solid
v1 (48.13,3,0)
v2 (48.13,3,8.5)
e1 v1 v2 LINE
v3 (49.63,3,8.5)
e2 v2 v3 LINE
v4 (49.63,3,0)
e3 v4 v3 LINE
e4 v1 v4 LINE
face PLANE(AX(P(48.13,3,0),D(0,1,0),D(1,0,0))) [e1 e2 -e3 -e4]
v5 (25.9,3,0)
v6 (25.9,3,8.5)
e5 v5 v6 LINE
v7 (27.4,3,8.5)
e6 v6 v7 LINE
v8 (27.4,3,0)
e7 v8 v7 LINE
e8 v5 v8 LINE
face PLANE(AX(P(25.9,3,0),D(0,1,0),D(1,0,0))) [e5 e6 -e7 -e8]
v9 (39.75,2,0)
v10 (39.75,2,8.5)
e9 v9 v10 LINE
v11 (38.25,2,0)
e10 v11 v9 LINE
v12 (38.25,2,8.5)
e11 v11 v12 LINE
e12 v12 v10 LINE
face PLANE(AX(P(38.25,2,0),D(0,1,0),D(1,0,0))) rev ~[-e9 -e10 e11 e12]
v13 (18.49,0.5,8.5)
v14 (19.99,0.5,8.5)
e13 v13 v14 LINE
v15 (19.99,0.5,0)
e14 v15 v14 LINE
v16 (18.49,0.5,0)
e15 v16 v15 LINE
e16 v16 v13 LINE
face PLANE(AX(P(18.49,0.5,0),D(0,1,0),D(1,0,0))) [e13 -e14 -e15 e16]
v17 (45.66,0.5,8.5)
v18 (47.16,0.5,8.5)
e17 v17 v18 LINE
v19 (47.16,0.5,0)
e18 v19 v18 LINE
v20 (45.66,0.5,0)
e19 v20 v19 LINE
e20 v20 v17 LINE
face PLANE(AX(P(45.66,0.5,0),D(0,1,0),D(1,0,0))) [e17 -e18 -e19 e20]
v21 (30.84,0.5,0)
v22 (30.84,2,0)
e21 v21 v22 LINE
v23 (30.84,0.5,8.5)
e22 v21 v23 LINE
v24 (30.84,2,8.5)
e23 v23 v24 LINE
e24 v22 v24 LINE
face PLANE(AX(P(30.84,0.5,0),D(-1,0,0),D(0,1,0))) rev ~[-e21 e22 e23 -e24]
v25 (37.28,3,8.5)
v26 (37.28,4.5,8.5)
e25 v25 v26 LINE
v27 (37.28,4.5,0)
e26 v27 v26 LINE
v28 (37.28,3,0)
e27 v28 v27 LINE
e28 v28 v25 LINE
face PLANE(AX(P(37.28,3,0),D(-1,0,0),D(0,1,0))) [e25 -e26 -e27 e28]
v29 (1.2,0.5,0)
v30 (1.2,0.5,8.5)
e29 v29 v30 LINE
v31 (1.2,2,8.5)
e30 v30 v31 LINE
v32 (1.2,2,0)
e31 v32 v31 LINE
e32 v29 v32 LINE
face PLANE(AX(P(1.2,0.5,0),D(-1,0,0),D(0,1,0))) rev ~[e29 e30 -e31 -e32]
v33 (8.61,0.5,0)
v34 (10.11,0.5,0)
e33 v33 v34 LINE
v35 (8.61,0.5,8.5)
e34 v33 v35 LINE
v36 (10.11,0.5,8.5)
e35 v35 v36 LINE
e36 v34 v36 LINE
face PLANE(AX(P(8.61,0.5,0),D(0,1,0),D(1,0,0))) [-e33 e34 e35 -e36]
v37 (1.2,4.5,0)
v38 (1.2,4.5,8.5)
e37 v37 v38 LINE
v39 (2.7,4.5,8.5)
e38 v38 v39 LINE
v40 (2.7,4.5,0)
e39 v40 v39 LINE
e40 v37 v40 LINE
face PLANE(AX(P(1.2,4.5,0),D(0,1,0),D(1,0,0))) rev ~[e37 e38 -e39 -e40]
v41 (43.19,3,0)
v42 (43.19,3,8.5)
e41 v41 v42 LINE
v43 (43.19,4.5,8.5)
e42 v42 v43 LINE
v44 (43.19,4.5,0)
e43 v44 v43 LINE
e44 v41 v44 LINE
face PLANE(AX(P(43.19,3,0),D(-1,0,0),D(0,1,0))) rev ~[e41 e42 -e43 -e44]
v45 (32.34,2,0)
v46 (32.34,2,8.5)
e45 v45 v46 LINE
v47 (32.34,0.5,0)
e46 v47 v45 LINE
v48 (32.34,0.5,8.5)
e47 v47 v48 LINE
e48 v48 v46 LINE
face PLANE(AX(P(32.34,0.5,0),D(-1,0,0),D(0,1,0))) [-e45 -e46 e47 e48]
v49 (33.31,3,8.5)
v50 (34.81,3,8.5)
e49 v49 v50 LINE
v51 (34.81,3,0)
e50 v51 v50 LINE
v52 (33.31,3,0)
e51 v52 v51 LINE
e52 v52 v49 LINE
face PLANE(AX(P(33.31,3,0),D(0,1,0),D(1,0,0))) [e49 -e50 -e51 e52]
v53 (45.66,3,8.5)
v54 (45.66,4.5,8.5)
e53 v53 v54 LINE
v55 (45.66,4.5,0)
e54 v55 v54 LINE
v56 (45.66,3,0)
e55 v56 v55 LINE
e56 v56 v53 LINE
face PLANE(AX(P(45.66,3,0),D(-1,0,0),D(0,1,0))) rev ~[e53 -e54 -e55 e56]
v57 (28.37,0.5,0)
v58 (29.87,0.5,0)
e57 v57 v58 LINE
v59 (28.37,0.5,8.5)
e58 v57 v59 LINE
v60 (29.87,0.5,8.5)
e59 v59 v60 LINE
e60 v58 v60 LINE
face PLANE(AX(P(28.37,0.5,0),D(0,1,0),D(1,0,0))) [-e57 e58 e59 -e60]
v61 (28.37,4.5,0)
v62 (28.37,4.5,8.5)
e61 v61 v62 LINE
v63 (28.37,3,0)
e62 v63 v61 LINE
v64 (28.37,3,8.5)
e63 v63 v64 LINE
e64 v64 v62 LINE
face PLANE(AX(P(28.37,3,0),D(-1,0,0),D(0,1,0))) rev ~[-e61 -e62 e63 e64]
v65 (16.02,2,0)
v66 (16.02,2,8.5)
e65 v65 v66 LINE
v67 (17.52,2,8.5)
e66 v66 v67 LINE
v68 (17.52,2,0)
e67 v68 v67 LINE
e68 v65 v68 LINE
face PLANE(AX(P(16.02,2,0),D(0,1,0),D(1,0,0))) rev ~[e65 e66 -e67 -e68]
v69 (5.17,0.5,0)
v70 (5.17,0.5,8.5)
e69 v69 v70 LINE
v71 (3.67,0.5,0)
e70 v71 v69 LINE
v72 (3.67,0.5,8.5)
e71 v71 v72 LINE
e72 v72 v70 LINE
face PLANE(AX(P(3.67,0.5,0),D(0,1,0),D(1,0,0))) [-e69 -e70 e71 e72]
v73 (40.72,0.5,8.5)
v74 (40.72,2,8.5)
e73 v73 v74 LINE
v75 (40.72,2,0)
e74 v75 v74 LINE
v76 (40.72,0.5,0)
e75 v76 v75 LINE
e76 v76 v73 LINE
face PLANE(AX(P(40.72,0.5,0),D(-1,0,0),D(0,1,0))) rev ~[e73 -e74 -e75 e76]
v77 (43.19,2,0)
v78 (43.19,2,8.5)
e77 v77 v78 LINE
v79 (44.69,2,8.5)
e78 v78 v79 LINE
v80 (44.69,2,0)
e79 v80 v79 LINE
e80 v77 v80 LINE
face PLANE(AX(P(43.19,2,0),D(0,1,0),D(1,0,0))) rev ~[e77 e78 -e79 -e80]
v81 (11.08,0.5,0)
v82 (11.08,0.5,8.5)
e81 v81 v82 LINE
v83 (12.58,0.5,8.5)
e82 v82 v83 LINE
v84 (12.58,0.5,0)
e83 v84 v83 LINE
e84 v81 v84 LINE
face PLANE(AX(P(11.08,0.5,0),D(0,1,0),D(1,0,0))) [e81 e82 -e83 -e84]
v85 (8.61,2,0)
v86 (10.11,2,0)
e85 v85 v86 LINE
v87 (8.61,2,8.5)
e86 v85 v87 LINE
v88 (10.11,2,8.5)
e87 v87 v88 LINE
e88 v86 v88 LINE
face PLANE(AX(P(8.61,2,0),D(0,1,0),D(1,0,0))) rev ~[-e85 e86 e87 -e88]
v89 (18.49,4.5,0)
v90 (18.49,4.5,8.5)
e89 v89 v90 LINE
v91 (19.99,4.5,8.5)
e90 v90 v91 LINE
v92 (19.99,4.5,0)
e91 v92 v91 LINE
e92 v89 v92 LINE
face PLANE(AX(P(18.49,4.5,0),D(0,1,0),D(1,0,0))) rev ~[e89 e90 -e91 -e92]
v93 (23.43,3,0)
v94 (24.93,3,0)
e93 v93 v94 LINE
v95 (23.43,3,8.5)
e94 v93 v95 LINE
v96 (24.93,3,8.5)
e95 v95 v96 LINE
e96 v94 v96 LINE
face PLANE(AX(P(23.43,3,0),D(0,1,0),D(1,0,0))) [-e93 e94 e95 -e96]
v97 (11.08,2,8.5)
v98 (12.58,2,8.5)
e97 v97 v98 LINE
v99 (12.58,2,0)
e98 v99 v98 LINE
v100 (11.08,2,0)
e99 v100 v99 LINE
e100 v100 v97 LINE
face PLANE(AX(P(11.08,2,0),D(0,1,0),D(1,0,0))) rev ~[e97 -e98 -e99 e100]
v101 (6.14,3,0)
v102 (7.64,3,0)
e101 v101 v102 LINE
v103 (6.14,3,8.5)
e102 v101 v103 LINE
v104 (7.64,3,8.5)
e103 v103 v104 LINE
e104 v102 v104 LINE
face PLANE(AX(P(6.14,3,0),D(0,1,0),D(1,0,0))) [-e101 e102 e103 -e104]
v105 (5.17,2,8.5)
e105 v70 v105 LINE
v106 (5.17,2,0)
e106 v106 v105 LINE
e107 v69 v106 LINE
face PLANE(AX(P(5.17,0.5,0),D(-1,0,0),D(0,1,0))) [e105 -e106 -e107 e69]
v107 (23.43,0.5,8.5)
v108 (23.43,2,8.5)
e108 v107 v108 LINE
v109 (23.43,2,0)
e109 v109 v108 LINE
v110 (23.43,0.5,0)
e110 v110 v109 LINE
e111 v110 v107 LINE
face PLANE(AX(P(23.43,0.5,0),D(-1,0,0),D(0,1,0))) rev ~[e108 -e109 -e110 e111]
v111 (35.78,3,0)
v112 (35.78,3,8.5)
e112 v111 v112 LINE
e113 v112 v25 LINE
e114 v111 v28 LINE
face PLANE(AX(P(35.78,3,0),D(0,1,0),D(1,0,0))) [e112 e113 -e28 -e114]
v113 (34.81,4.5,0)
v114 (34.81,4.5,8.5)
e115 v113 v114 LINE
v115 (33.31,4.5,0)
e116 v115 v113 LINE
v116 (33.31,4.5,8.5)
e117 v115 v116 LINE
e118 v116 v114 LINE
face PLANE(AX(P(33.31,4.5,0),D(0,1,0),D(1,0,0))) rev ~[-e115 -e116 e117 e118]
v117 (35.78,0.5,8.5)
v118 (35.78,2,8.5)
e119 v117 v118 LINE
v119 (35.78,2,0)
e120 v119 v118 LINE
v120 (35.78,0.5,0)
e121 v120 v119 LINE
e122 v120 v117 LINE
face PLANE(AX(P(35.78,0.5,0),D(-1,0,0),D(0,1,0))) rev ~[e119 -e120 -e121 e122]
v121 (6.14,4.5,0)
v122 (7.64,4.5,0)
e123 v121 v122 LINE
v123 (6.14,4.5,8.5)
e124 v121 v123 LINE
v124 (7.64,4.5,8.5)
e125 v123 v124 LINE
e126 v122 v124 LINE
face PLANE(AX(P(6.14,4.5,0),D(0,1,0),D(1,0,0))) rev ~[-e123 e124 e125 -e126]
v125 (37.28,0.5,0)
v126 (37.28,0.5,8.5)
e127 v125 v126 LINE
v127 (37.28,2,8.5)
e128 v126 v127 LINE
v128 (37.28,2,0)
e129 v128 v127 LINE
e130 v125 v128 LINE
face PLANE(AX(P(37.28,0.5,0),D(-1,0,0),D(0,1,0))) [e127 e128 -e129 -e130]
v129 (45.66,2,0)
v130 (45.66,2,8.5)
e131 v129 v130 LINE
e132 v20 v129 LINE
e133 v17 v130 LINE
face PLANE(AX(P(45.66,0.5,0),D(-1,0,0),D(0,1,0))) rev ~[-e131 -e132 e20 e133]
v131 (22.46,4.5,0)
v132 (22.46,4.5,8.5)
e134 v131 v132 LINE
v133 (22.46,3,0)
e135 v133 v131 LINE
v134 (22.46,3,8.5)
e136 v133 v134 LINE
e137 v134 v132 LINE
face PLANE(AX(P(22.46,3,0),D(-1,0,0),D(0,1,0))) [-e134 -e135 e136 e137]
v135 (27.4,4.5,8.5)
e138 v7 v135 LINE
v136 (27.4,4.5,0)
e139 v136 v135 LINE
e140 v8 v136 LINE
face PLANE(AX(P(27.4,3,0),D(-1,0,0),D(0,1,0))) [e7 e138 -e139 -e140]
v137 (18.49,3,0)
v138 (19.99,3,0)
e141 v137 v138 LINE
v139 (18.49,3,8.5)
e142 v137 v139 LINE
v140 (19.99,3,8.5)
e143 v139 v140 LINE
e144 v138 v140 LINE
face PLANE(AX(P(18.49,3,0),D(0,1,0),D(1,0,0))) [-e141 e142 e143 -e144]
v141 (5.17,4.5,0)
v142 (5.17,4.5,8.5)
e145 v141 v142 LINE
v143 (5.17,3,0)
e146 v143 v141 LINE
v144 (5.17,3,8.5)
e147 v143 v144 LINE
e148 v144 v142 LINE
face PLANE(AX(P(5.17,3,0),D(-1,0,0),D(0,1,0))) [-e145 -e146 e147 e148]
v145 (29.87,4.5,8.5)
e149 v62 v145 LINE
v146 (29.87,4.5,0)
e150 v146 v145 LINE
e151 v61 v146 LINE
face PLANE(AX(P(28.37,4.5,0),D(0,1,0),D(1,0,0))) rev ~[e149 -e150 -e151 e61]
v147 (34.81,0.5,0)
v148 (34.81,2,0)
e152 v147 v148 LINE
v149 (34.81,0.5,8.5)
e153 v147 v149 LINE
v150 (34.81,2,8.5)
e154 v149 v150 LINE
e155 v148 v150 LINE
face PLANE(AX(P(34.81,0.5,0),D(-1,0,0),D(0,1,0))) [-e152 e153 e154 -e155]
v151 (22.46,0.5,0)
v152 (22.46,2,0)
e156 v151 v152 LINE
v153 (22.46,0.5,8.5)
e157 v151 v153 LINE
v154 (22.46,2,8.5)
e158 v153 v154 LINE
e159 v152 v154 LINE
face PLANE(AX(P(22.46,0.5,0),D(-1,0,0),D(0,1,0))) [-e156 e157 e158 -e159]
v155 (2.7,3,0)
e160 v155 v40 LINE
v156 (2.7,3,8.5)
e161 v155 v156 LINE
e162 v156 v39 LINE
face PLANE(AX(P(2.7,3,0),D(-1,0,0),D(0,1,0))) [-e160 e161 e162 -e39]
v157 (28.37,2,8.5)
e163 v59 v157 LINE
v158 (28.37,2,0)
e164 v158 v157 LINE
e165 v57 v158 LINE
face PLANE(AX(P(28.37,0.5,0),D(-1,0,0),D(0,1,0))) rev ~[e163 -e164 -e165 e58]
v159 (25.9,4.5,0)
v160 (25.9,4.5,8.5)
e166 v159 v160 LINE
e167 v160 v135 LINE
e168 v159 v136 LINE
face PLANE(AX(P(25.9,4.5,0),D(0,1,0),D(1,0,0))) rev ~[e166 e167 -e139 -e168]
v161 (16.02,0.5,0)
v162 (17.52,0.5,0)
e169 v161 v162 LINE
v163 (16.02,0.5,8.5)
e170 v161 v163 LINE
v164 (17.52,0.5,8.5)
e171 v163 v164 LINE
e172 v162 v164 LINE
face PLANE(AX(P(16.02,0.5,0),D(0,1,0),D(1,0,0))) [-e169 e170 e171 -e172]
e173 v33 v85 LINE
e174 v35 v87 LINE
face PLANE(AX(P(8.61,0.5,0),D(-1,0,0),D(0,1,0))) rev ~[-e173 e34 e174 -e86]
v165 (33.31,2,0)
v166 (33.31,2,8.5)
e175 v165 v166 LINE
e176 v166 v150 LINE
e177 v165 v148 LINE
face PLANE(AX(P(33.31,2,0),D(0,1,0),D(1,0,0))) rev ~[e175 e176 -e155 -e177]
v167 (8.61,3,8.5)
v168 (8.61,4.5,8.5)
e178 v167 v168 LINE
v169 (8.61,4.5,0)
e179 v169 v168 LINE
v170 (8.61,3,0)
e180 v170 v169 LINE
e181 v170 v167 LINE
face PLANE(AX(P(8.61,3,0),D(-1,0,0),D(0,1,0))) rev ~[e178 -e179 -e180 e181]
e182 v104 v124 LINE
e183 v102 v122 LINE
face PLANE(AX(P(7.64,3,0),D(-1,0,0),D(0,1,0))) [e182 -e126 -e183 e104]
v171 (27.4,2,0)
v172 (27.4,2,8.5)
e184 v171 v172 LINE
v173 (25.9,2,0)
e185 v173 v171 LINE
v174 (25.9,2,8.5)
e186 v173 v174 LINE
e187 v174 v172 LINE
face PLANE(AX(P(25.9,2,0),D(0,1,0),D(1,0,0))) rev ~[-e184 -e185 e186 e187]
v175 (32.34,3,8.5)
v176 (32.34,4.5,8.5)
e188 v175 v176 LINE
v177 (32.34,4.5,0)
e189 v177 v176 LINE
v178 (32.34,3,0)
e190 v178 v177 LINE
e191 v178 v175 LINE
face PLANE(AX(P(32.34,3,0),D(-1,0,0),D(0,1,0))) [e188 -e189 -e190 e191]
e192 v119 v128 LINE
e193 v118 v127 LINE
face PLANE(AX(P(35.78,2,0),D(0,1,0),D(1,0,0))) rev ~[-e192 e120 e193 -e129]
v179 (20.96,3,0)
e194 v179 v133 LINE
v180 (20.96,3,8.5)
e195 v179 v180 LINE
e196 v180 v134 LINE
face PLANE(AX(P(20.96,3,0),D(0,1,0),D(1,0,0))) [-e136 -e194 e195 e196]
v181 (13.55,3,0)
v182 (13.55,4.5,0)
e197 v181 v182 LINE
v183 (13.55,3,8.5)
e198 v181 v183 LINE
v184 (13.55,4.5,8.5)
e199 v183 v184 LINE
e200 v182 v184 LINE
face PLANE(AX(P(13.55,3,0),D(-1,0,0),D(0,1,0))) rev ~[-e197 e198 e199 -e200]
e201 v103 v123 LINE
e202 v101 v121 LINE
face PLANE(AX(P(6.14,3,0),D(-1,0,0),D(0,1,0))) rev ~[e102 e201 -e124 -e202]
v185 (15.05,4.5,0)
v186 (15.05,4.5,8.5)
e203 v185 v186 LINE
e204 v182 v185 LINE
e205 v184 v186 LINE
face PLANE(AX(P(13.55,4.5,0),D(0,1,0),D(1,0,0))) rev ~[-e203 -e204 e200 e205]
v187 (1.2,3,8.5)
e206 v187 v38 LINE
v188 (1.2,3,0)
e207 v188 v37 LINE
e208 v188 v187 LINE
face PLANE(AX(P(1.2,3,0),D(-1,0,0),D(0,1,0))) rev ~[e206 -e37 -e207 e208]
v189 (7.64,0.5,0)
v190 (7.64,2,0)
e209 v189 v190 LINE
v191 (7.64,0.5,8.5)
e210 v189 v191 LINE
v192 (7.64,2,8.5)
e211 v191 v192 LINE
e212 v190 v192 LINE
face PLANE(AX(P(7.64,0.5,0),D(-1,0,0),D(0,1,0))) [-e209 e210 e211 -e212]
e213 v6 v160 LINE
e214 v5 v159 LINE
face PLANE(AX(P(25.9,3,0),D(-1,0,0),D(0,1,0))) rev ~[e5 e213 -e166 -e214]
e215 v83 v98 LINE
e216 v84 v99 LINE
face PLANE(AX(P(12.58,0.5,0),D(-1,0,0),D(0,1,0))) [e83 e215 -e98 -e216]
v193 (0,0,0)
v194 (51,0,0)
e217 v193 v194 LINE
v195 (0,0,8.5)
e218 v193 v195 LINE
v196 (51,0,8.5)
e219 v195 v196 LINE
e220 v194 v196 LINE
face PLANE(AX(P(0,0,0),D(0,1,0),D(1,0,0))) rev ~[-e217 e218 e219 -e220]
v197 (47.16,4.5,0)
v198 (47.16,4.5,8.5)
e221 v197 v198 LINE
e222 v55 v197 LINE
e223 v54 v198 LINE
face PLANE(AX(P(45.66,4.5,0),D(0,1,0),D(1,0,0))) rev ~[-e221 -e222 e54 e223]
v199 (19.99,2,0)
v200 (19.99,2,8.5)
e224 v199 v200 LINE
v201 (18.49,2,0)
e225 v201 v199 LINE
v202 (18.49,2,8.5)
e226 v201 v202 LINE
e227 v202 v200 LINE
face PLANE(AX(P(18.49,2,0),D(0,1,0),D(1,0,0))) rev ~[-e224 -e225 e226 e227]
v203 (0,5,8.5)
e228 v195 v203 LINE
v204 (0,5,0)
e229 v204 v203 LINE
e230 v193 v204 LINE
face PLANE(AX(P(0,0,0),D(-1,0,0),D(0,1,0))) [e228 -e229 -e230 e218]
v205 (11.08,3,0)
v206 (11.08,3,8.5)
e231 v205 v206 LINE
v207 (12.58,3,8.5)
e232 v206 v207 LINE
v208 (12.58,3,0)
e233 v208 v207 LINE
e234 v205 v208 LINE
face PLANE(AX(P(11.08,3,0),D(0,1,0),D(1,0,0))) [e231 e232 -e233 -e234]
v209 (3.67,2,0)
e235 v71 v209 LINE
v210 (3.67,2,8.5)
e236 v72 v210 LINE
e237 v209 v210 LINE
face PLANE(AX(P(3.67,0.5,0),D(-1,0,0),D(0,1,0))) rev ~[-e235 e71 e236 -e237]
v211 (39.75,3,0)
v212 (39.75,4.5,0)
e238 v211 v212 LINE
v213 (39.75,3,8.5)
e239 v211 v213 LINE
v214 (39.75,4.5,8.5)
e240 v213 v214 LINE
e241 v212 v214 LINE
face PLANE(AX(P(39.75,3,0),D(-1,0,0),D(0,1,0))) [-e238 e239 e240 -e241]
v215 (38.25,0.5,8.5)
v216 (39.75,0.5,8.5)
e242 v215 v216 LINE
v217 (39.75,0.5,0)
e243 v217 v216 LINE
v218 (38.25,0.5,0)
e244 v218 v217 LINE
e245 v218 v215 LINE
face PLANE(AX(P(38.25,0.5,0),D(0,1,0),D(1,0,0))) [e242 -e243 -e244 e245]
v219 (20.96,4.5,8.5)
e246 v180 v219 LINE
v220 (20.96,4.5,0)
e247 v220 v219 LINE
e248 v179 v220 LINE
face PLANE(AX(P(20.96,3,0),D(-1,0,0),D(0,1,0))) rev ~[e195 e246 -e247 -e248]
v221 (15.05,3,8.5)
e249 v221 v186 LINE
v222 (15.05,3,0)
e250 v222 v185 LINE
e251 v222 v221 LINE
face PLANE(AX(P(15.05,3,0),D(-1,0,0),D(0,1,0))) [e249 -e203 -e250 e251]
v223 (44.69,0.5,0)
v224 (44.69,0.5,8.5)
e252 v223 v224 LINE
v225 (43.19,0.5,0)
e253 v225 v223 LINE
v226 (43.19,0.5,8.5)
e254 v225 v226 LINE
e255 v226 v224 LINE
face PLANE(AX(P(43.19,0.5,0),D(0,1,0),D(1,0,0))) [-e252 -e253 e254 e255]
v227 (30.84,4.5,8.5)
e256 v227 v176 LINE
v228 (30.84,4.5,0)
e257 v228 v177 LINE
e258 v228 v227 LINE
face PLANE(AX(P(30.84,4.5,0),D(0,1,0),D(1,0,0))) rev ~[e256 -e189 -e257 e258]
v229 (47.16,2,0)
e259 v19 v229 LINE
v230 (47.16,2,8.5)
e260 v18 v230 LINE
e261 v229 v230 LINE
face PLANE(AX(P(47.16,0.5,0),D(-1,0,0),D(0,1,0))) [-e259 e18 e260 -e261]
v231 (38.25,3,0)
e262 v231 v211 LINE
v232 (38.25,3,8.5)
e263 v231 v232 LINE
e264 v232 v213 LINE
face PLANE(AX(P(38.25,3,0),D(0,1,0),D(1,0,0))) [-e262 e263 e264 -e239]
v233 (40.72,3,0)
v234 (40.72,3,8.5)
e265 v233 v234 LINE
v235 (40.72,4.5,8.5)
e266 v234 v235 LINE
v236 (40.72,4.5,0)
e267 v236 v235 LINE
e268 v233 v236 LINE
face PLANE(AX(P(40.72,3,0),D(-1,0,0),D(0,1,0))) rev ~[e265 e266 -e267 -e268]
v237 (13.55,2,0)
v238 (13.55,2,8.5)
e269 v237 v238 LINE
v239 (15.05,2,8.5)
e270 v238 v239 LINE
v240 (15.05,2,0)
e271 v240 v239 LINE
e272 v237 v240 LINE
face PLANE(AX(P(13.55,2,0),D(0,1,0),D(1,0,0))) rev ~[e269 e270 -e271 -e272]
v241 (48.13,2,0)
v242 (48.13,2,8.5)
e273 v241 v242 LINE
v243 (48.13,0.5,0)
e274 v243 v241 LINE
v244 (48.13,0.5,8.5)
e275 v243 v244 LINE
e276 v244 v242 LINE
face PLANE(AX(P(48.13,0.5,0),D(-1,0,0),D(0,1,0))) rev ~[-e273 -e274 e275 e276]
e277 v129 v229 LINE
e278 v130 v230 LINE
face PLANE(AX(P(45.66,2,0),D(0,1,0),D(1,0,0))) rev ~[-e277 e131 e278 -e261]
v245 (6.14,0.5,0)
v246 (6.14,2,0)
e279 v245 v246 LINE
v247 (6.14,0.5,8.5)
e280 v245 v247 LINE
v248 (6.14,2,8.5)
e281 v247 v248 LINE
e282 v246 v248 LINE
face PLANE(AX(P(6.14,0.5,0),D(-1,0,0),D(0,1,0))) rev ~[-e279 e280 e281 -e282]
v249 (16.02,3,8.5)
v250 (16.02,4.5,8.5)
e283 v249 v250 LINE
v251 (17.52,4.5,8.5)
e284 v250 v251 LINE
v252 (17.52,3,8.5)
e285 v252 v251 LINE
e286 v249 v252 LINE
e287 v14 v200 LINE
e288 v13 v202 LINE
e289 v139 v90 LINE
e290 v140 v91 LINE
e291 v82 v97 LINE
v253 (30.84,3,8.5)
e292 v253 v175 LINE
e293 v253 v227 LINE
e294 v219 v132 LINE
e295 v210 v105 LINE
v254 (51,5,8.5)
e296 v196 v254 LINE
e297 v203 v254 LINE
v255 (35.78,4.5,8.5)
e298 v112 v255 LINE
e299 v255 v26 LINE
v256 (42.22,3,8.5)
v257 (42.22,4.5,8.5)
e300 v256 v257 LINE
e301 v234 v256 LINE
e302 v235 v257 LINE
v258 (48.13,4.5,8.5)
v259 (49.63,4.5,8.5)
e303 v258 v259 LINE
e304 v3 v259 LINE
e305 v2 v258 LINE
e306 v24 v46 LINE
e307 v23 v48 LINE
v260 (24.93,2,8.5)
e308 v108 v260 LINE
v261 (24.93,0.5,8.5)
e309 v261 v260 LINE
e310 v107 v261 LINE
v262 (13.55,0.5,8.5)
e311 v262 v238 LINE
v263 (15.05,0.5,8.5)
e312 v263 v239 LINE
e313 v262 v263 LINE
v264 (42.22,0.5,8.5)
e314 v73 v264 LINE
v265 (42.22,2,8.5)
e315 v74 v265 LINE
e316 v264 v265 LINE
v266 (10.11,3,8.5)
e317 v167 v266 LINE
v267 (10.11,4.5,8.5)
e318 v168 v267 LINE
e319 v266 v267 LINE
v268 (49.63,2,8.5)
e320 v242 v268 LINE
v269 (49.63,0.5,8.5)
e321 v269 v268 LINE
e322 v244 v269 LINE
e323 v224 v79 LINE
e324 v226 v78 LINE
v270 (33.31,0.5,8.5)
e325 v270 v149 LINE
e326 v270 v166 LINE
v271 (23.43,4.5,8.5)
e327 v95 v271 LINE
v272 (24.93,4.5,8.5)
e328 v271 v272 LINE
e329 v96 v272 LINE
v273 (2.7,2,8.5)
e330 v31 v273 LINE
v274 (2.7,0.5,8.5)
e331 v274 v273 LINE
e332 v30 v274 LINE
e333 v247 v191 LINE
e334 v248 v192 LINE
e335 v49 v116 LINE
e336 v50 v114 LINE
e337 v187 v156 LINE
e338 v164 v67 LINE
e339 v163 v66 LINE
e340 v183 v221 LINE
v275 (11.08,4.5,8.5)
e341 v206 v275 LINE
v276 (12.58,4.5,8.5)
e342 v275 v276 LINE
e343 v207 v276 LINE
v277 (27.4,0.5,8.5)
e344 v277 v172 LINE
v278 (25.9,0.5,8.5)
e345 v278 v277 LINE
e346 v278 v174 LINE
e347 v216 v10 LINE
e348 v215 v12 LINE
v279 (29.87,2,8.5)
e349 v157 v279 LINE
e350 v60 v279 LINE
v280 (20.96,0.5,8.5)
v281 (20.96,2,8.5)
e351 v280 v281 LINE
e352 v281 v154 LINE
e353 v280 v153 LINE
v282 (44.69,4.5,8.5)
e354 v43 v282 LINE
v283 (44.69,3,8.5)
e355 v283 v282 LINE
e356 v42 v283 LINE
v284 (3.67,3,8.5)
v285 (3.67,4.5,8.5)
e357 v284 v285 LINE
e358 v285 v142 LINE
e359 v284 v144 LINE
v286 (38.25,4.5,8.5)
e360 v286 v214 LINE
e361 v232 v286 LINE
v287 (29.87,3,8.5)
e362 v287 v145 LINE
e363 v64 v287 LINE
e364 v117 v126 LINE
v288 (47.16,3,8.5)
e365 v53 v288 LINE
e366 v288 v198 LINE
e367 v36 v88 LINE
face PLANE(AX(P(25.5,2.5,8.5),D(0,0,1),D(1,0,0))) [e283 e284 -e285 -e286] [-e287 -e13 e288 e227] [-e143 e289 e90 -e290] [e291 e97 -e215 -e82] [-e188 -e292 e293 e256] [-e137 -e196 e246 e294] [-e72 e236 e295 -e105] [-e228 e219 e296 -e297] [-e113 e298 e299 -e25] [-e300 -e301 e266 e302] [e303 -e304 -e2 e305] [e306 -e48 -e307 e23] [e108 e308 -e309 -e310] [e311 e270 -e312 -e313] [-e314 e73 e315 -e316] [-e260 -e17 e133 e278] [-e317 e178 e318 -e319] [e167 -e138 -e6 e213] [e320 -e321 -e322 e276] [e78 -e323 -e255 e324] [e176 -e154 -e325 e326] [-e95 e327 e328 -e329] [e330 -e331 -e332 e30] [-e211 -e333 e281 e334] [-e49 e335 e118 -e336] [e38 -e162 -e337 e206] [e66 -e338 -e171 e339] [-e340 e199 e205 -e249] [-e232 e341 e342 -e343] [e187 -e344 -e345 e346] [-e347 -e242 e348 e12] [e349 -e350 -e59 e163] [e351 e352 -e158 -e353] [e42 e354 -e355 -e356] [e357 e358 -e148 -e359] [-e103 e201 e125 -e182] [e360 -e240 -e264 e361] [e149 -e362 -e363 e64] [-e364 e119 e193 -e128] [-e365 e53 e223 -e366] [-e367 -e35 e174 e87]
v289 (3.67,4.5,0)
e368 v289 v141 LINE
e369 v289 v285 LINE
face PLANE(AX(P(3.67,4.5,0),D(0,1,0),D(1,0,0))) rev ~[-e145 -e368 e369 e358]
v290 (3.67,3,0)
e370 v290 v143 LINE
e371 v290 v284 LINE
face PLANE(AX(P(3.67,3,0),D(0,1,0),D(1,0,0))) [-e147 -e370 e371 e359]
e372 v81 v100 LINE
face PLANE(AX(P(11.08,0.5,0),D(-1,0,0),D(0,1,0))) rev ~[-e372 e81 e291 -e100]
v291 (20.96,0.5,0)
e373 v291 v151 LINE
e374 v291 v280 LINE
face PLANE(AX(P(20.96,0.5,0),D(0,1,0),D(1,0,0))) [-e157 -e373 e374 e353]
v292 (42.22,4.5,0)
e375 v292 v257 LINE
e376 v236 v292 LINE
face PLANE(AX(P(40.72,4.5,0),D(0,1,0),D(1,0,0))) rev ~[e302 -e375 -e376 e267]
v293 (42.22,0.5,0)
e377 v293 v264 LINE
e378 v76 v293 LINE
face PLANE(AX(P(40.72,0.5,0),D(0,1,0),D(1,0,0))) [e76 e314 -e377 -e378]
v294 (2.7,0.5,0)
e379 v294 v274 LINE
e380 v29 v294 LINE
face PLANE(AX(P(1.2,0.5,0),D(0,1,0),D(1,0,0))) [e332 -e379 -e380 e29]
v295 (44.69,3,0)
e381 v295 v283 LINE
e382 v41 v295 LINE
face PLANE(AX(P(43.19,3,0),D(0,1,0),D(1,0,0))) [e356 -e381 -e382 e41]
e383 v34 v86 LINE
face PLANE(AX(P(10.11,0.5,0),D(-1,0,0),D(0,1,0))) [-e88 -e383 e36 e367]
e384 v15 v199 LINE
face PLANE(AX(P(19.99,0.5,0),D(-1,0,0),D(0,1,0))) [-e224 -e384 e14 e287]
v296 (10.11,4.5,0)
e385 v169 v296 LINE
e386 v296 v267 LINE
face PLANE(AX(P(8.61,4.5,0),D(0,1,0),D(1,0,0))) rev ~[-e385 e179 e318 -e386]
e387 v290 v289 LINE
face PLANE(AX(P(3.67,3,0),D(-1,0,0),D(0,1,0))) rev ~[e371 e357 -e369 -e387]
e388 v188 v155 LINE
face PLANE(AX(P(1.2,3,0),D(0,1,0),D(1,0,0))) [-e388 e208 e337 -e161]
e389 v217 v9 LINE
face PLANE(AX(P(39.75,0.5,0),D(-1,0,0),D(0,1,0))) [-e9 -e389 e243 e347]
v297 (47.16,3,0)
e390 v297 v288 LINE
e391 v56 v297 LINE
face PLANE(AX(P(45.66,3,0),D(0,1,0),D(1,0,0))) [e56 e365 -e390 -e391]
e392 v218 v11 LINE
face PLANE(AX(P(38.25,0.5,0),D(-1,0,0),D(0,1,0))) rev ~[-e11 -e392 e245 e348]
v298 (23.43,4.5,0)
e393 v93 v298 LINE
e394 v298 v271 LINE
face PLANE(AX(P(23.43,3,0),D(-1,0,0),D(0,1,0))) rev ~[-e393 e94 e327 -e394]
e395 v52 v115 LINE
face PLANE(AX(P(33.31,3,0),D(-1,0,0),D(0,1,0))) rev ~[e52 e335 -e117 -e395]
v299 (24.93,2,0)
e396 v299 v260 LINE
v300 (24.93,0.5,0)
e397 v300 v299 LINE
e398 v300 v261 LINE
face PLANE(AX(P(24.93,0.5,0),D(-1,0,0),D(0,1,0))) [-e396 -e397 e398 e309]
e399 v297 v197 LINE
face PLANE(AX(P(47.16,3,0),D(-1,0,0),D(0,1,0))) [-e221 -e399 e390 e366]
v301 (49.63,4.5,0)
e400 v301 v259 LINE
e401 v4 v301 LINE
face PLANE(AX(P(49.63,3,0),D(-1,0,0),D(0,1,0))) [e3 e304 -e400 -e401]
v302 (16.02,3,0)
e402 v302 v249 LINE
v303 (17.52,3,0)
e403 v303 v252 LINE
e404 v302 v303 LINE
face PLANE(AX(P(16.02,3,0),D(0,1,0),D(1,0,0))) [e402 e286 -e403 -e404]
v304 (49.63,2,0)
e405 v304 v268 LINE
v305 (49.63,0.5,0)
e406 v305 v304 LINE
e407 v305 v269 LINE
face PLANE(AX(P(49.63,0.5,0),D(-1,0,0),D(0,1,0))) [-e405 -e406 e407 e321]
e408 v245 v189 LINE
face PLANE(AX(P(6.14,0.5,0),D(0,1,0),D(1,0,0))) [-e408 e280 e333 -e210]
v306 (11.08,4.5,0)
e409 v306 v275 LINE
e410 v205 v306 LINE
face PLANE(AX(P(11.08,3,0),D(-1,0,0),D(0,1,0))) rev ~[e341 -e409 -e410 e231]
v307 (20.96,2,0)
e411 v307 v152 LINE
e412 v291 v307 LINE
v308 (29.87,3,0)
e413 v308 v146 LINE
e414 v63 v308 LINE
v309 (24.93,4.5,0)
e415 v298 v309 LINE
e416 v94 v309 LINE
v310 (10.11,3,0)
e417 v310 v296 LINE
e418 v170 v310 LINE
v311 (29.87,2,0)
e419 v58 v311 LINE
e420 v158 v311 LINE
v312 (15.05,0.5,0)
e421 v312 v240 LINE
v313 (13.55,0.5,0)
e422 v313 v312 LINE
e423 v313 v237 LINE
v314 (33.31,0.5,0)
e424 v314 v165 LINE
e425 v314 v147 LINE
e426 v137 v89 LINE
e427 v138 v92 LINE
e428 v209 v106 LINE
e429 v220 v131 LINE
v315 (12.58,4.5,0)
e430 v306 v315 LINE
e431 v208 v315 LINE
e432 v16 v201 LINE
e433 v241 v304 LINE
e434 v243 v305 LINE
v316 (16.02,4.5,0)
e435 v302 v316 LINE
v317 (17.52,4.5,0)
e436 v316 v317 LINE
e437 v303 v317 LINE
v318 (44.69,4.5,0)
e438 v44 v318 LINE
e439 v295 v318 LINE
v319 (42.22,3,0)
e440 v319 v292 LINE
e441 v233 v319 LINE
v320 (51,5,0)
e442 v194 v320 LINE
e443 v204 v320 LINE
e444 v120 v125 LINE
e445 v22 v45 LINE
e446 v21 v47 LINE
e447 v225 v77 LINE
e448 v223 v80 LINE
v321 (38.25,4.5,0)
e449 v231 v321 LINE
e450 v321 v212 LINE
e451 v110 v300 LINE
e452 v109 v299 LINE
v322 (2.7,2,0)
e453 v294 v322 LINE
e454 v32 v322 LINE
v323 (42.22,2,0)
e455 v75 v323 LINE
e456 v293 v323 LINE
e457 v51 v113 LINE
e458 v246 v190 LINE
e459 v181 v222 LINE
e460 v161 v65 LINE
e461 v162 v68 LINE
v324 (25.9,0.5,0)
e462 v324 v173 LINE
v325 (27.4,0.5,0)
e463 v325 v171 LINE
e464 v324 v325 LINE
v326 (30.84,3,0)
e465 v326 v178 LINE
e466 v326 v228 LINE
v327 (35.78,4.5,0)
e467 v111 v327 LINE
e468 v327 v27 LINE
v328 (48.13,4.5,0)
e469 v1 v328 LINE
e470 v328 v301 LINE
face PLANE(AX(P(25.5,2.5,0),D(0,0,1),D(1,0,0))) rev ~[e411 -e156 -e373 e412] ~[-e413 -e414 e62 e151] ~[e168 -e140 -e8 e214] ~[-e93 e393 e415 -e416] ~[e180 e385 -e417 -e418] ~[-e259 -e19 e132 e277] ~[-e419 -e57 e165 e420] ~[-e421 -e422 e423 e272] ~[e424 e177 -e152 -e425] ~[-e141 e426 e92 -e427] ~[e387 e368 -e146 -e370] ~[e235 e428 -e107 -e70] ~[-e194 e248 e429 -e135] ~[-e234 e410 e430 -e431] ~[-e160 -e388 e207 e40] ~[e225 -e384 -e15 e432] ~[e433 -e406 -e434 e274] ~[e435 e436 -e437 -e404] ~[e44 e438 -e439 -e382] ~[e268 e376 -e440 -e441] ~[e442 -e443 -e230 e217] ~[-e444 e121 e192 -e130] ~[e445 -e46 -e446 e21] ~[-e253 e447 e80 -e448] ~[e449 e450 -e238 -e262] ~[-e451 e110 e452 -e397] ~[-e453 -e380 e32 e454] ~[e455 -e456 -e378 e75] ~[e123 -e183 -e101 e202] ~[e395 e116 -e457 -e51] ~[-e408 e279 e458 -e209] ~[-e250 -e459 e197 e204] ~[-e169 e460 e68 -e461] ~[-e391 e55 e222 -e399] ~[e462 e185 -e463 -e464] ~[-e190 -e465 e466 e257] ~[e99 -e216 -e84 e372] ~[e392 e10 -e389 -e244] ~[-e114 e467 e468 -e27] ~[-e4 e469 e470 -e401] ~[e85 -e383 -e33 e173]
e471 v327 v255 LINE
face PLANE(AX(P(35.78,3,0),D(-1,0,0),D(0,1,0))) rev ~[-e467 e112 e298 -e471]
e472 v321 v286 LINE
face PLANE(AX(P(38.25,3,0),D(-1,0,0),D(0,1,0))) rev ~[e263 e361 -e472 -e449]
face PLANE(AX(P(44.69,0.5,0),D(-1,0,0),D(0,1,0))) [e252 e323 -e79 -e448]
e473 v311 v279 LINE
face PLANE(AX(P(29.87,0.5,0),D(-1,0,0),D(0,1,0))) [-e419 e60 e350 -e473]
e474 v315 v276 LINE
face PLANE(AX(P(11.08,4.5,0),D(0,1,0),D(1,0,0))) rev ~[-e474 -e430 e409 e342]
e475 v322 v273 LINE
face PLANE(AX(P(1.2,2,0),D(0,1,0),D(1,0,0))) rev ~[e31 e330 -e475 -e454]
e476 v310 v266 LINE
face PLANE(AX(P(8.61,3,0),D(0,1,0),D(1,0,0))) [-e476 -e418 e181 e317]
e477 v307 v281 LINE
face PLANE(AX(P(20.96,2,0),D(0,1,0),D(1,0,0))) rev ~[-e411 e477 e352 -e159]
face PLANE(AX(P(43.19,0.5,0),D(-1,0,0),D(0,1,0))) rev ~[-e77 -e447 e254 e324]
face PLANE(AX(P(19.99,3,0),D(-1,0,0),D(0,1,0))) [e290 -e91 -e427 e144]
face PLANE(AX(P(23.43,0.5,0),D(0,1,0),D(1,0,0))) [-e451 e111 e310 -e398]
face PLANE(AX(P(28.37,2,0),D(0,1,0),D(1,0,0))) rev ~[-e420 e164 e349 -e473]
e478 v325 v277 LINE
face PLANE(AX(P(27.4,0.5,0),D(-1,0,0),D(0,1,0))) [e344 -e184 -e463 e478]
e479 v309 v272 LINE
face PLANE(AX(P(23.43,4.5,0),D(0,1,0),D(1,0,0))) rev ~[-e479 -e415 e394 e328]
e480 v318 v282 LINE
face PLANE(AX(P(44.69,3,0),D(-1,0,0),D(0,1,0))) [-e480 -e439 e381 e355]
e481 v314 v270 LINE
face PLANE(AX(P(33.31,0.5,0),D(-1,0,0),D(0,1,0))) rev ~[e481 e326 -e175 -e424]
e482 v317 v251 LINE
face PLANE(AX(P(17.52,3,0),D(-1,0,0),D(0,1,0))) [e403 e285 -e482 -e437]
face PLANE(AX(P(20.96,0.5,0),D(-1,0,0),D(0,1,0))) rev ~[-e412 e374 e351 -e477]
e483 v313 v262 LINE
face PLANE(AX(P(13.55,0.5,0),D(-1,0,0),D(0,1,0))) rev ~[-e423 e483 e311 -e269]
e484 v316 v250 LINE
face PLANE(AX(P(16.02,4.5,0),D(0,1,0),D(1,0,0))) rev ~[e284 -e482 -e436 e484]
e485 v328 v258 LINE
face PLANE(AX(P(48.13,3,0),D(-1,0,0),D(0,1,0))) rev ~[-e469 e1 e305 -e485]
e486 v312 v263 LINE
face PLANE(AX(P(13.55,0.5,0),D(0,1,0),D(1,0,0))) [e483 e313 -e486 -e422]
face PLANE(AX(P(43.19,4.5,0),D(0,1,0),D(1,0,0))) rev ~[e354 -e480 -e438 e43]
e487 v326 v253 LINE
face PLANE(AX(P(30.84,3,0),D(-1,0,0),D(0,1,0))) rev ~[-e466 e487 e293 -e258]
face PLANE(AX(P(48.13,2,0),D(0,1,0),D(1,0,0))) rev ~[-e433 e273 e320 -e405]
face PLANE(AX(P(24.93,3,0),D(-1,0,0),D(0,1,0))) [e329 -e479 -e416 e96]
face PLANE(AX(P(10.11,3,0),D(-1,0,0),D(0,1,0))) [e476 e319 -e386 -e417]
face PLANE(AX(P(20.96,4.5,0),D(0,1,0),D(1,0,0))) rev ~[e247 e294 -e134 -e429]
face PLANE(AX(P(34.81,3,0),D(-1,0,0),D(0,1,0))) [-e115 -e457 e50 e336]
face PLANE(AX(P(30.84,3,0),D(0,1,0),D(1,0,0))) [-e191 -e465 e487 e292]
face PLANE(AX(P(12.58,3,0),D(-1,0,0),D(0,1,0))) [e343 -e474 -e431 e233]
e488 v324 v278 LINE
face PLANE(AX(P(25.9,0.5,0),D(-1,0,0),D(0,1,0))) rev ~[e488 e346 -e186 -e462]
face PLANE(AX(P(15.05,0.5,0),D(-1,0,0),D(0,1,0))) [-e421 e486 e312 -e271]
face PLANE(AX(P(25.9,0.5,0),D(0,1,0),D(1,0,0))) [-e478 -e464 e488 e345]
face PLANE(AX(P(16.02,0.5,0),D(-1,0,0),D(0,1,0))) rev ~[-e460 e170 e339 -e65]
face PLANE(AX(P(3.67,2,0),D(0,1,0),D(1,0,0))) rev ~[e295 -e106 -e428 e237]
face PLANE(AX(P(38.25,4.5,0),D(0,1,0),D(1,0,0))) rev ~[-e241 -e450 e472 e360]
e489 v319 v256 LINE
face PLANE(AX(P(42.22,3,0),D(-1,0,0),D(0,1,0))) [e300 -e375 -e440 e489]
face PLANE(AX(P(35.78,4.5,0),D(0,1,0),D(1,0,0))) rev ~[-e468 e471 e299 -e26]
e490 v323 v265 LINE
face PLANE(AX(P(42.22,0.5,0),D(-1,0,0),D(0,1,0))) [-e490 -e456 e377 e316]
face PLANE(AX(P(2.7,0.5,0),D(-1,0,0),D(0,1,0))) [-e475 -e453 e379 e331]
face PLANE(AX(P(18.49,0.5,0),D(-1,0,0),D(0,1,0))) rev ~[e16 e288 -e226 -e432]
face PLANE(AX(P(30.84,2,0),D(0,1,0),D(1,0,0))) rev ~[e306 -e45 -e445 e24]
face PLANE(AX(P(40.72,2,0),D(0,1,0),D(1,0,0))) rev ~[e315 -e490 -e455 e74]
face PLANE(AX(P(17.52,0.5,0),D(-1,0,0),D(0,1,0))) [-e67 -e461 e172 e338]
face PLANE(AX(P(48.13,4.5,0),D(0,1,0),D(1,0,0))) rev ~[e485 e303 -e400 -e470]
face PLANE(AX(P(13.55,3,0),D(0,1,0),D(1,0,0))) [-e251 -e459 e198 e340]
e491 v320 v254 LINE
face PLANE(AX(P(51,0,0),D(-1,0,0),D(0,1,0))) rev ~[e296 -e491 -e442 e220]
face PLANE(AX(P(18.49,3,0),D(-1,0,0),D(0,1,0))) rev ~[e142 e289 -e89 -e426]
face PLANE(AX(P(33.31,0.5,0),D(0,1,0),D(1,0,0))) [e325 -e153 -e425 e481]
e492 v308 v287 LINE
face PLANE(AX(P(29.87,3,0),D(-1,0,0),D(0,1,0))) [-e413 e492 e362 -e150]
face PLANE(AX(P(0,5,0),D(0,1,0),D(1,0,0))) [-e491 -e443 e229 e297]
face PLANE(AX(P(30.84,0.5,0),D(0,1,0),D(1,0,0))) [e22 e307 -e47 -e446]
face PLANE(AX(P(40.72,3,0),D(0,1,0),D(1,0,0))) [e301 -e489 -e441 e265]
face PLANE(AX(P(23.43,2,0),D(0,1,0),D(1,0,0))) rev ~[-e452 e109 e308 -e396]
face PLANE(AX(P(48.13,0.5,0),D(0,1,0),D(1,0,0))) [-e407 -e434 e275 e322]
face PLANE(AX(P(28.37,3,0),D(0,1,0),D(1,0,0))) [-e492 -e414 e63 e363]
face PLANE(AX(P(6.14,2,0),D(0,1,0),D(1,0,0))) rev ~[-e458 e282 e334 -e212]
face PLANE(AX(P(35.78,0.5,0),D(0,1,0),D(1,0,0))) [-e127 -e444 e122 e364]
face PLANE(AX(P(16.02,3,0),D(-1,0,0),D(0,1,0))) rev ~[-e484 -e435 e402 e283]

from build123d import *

# Parameters (mm, degrees)
F0_W     = 51
F0_H     = 5
F0_W_2   = 1.5
F0_H_2   = 1.5
F1_DEPTH = 8.5


with BuildPart() as f1:
    # F0 (on Top) → F1 (new body)
    with BuildSketch(Plane.XY):
        with Locations((25.5, 2.5)):
            Rectangle(F0_W, F0_H)
        with Locations((1.95, 1.25)):
            Rectangle(F0_W_2, F0_H_2, mode=Mode.SUBTRACT)
        with Locations((4.42, 1.25)):
            Rectangle(F0_W_2, F0_H_2, mode=Mode.SUBTRACT)
        with Locations((6.89, 1.25)):
            Rectangle(F0_W_2, F0_H_2, mode=Mode.SUBTRACT)
        with Locations((9.36, 1.25)):
            Rectangle(F0_W_2, F0_H_2, mode=Mode.SUBTRACT)
        with Locations((11.83, 1.25)):
            Rectangle(F0_W_2, F0_H_2, mode=Mode.SUBTRACT)
        with Locations((14.3, 1.25)):
            Rectangle(F0_W_2, F0_H_2, mode=Mode.SUBTRACT)
        with Locations((16.77, 1.25)):
            Rectangle(F0_W_2, F0_H_2, mode=Mode.SUBTRACT)
        with Locations((19.24, 1.25)):
            Rectangle(F0_W_2, F0_H_2, mode=Mode.SUBTRACT)
        with Locations((21.71, 1.25)):
            Rectangle(F0_W_2, F0_H_2, mode=Mode.SUBTRACT)
        with Locations((24.18, 1.25)):
            Rectangle(F0_W_2, F0_H_2, mode=Mode.SUBTRACT)
        with Locations((26.65, 1.25)):
            Rectangle(F0_W_2, F0_H_2, mode=Mode.SUBTRACT)
        with Locations((29.12, 1.25)):
            Rectangle(F0_W_2, F0_H_2, mode=Mode.SUBTRACT)
        with Locations((31.59, 1.25)):
            Rectangle(F0_W_2, F0_H_2, mode=Mode.SUBTRACT)
        with Locations((34.06, 1.25)):
            Rectangle(F0_W_2, F0_H_2, mode=Mode.SUBTRACT)
        with Locations((36.53, 1.25)):
            Rectangle(F0_W_2, F0_H_2, mode=Mode.SUBTRACT)
        with Locations((39, 1.25)):
            Rectangle(F0_W_2, F0_H_2, mode=Mode.SUBTRACT)
        with Locations((41.47, 1.25)):
            Rectangle(F0_W_2, F0_H_2, mode=Mode.SUBTRACT)
        with Locations((43.94, 1.25)):
            Rectangle(F0_W_2, F0_H_2, mode=Mode.SUBTRACT)
        with Locations((46.41, 1.25)):
            Rectangle(F0_W_2, F0_H_2, mode=Mode.SUBTRACT)
        with Locations((48.88, 1.25)):
            Rectangle(F0_W_2, F0_H_2, mode=Mode.SUBTRACT)
        with Locations((1.95, 3.75)):
            Rectangle(F0_W_2, F0_H_2, mode=Mode.SUBTRACT)
        with Locations((4.42, 3.75)):
            Rectangle(F0_W_2, F0_H_2, mode=Mode.SUBTRACT)
        with Locations((6.89, 3.75)):
            Rectangle(F0_W_2, F0_H_2, mode=Mode.SUBTRACT)
        with Locations((9.36, 3.75)):
            Rectangle(F0_W_2, F0_H_2, mode=Mode.SUBTRACT)
        with Locations((11.83, 3.75)):
            Rectangle(F0_W_2, F0_H_2, mode=Mode.SUBTRACT)
        with Locations((14.3, 3.75)):
            Rectangle(F0_W_2, F0_H_2, mode=Mode.SUBTRACT)
        with Locations((16.77, 3.75)):
            Rectangle(F0_W_2, F0_H_2, mode=Mode.SUBTRACT)
        with Locations((19.24, 3.75)):
            Rectangle(F0_W_2, F0_H_2, mode=Mode.SUBTRACT)
        with Locations((21.71, 3.75)):
            Rectangle(F0_W_2, F0_H_2, mode=Mode.SUBTRACT)
        with Locations((24.18, 3.75)):
            Rectangle(F0_W_2, F0_H_2, mode=Mode.SUBTRACT)
        with Locations((26.65, 3.75)):
            Rectangle(F0_W_2, F0_H_2, mode=Mode.SUBTRACT)
        with Locations((29.12, 3.75)):
            Rectangle(F0_W_2, F0_H_2, mode=Mode.SUBTRACT)
        with Locations((31.59, 3.75)):
            Rectangle(F0_W_2, F0_H_2, mode=Mode.SUBTRACT)
        with Locations((34.06, 3.75)):
            Rectangle(F0_W_2, F0_H_2, mode=Mode.SUBTRACT)
        with Locations((36.53, 3.75)):
            Rectangle(F0_W_2, F0_H_2, mode=Mode.SUBTRACT)
        with Locations((39, 3.75)):
            Rectangle(F0_W_2, F0_H_2, mode=Mode.SUBTRACT)
        with Locations((41.47, 3.75)):
            Rectangle(F0_W_2, F0_H_2, mode=Mode.SUBTRACT)
        with Locations((43.94, 3.75)):
            Rectangle(F0_W_2, F0_H_2, mode=Mode.SUBTRACT)
        with Locations((46.41, 3.75)):
            Rectangle(F0_W_2, F0_H_2, mode=Mode.SUBTRACT)
        with Locations((48.88, 3.75)):
            Rectangle(F0_W_2, F0_H_2, mode=Mode.SUBTRACT)
    extrude(amount=F1_DEPTH)


solid = f1.part
